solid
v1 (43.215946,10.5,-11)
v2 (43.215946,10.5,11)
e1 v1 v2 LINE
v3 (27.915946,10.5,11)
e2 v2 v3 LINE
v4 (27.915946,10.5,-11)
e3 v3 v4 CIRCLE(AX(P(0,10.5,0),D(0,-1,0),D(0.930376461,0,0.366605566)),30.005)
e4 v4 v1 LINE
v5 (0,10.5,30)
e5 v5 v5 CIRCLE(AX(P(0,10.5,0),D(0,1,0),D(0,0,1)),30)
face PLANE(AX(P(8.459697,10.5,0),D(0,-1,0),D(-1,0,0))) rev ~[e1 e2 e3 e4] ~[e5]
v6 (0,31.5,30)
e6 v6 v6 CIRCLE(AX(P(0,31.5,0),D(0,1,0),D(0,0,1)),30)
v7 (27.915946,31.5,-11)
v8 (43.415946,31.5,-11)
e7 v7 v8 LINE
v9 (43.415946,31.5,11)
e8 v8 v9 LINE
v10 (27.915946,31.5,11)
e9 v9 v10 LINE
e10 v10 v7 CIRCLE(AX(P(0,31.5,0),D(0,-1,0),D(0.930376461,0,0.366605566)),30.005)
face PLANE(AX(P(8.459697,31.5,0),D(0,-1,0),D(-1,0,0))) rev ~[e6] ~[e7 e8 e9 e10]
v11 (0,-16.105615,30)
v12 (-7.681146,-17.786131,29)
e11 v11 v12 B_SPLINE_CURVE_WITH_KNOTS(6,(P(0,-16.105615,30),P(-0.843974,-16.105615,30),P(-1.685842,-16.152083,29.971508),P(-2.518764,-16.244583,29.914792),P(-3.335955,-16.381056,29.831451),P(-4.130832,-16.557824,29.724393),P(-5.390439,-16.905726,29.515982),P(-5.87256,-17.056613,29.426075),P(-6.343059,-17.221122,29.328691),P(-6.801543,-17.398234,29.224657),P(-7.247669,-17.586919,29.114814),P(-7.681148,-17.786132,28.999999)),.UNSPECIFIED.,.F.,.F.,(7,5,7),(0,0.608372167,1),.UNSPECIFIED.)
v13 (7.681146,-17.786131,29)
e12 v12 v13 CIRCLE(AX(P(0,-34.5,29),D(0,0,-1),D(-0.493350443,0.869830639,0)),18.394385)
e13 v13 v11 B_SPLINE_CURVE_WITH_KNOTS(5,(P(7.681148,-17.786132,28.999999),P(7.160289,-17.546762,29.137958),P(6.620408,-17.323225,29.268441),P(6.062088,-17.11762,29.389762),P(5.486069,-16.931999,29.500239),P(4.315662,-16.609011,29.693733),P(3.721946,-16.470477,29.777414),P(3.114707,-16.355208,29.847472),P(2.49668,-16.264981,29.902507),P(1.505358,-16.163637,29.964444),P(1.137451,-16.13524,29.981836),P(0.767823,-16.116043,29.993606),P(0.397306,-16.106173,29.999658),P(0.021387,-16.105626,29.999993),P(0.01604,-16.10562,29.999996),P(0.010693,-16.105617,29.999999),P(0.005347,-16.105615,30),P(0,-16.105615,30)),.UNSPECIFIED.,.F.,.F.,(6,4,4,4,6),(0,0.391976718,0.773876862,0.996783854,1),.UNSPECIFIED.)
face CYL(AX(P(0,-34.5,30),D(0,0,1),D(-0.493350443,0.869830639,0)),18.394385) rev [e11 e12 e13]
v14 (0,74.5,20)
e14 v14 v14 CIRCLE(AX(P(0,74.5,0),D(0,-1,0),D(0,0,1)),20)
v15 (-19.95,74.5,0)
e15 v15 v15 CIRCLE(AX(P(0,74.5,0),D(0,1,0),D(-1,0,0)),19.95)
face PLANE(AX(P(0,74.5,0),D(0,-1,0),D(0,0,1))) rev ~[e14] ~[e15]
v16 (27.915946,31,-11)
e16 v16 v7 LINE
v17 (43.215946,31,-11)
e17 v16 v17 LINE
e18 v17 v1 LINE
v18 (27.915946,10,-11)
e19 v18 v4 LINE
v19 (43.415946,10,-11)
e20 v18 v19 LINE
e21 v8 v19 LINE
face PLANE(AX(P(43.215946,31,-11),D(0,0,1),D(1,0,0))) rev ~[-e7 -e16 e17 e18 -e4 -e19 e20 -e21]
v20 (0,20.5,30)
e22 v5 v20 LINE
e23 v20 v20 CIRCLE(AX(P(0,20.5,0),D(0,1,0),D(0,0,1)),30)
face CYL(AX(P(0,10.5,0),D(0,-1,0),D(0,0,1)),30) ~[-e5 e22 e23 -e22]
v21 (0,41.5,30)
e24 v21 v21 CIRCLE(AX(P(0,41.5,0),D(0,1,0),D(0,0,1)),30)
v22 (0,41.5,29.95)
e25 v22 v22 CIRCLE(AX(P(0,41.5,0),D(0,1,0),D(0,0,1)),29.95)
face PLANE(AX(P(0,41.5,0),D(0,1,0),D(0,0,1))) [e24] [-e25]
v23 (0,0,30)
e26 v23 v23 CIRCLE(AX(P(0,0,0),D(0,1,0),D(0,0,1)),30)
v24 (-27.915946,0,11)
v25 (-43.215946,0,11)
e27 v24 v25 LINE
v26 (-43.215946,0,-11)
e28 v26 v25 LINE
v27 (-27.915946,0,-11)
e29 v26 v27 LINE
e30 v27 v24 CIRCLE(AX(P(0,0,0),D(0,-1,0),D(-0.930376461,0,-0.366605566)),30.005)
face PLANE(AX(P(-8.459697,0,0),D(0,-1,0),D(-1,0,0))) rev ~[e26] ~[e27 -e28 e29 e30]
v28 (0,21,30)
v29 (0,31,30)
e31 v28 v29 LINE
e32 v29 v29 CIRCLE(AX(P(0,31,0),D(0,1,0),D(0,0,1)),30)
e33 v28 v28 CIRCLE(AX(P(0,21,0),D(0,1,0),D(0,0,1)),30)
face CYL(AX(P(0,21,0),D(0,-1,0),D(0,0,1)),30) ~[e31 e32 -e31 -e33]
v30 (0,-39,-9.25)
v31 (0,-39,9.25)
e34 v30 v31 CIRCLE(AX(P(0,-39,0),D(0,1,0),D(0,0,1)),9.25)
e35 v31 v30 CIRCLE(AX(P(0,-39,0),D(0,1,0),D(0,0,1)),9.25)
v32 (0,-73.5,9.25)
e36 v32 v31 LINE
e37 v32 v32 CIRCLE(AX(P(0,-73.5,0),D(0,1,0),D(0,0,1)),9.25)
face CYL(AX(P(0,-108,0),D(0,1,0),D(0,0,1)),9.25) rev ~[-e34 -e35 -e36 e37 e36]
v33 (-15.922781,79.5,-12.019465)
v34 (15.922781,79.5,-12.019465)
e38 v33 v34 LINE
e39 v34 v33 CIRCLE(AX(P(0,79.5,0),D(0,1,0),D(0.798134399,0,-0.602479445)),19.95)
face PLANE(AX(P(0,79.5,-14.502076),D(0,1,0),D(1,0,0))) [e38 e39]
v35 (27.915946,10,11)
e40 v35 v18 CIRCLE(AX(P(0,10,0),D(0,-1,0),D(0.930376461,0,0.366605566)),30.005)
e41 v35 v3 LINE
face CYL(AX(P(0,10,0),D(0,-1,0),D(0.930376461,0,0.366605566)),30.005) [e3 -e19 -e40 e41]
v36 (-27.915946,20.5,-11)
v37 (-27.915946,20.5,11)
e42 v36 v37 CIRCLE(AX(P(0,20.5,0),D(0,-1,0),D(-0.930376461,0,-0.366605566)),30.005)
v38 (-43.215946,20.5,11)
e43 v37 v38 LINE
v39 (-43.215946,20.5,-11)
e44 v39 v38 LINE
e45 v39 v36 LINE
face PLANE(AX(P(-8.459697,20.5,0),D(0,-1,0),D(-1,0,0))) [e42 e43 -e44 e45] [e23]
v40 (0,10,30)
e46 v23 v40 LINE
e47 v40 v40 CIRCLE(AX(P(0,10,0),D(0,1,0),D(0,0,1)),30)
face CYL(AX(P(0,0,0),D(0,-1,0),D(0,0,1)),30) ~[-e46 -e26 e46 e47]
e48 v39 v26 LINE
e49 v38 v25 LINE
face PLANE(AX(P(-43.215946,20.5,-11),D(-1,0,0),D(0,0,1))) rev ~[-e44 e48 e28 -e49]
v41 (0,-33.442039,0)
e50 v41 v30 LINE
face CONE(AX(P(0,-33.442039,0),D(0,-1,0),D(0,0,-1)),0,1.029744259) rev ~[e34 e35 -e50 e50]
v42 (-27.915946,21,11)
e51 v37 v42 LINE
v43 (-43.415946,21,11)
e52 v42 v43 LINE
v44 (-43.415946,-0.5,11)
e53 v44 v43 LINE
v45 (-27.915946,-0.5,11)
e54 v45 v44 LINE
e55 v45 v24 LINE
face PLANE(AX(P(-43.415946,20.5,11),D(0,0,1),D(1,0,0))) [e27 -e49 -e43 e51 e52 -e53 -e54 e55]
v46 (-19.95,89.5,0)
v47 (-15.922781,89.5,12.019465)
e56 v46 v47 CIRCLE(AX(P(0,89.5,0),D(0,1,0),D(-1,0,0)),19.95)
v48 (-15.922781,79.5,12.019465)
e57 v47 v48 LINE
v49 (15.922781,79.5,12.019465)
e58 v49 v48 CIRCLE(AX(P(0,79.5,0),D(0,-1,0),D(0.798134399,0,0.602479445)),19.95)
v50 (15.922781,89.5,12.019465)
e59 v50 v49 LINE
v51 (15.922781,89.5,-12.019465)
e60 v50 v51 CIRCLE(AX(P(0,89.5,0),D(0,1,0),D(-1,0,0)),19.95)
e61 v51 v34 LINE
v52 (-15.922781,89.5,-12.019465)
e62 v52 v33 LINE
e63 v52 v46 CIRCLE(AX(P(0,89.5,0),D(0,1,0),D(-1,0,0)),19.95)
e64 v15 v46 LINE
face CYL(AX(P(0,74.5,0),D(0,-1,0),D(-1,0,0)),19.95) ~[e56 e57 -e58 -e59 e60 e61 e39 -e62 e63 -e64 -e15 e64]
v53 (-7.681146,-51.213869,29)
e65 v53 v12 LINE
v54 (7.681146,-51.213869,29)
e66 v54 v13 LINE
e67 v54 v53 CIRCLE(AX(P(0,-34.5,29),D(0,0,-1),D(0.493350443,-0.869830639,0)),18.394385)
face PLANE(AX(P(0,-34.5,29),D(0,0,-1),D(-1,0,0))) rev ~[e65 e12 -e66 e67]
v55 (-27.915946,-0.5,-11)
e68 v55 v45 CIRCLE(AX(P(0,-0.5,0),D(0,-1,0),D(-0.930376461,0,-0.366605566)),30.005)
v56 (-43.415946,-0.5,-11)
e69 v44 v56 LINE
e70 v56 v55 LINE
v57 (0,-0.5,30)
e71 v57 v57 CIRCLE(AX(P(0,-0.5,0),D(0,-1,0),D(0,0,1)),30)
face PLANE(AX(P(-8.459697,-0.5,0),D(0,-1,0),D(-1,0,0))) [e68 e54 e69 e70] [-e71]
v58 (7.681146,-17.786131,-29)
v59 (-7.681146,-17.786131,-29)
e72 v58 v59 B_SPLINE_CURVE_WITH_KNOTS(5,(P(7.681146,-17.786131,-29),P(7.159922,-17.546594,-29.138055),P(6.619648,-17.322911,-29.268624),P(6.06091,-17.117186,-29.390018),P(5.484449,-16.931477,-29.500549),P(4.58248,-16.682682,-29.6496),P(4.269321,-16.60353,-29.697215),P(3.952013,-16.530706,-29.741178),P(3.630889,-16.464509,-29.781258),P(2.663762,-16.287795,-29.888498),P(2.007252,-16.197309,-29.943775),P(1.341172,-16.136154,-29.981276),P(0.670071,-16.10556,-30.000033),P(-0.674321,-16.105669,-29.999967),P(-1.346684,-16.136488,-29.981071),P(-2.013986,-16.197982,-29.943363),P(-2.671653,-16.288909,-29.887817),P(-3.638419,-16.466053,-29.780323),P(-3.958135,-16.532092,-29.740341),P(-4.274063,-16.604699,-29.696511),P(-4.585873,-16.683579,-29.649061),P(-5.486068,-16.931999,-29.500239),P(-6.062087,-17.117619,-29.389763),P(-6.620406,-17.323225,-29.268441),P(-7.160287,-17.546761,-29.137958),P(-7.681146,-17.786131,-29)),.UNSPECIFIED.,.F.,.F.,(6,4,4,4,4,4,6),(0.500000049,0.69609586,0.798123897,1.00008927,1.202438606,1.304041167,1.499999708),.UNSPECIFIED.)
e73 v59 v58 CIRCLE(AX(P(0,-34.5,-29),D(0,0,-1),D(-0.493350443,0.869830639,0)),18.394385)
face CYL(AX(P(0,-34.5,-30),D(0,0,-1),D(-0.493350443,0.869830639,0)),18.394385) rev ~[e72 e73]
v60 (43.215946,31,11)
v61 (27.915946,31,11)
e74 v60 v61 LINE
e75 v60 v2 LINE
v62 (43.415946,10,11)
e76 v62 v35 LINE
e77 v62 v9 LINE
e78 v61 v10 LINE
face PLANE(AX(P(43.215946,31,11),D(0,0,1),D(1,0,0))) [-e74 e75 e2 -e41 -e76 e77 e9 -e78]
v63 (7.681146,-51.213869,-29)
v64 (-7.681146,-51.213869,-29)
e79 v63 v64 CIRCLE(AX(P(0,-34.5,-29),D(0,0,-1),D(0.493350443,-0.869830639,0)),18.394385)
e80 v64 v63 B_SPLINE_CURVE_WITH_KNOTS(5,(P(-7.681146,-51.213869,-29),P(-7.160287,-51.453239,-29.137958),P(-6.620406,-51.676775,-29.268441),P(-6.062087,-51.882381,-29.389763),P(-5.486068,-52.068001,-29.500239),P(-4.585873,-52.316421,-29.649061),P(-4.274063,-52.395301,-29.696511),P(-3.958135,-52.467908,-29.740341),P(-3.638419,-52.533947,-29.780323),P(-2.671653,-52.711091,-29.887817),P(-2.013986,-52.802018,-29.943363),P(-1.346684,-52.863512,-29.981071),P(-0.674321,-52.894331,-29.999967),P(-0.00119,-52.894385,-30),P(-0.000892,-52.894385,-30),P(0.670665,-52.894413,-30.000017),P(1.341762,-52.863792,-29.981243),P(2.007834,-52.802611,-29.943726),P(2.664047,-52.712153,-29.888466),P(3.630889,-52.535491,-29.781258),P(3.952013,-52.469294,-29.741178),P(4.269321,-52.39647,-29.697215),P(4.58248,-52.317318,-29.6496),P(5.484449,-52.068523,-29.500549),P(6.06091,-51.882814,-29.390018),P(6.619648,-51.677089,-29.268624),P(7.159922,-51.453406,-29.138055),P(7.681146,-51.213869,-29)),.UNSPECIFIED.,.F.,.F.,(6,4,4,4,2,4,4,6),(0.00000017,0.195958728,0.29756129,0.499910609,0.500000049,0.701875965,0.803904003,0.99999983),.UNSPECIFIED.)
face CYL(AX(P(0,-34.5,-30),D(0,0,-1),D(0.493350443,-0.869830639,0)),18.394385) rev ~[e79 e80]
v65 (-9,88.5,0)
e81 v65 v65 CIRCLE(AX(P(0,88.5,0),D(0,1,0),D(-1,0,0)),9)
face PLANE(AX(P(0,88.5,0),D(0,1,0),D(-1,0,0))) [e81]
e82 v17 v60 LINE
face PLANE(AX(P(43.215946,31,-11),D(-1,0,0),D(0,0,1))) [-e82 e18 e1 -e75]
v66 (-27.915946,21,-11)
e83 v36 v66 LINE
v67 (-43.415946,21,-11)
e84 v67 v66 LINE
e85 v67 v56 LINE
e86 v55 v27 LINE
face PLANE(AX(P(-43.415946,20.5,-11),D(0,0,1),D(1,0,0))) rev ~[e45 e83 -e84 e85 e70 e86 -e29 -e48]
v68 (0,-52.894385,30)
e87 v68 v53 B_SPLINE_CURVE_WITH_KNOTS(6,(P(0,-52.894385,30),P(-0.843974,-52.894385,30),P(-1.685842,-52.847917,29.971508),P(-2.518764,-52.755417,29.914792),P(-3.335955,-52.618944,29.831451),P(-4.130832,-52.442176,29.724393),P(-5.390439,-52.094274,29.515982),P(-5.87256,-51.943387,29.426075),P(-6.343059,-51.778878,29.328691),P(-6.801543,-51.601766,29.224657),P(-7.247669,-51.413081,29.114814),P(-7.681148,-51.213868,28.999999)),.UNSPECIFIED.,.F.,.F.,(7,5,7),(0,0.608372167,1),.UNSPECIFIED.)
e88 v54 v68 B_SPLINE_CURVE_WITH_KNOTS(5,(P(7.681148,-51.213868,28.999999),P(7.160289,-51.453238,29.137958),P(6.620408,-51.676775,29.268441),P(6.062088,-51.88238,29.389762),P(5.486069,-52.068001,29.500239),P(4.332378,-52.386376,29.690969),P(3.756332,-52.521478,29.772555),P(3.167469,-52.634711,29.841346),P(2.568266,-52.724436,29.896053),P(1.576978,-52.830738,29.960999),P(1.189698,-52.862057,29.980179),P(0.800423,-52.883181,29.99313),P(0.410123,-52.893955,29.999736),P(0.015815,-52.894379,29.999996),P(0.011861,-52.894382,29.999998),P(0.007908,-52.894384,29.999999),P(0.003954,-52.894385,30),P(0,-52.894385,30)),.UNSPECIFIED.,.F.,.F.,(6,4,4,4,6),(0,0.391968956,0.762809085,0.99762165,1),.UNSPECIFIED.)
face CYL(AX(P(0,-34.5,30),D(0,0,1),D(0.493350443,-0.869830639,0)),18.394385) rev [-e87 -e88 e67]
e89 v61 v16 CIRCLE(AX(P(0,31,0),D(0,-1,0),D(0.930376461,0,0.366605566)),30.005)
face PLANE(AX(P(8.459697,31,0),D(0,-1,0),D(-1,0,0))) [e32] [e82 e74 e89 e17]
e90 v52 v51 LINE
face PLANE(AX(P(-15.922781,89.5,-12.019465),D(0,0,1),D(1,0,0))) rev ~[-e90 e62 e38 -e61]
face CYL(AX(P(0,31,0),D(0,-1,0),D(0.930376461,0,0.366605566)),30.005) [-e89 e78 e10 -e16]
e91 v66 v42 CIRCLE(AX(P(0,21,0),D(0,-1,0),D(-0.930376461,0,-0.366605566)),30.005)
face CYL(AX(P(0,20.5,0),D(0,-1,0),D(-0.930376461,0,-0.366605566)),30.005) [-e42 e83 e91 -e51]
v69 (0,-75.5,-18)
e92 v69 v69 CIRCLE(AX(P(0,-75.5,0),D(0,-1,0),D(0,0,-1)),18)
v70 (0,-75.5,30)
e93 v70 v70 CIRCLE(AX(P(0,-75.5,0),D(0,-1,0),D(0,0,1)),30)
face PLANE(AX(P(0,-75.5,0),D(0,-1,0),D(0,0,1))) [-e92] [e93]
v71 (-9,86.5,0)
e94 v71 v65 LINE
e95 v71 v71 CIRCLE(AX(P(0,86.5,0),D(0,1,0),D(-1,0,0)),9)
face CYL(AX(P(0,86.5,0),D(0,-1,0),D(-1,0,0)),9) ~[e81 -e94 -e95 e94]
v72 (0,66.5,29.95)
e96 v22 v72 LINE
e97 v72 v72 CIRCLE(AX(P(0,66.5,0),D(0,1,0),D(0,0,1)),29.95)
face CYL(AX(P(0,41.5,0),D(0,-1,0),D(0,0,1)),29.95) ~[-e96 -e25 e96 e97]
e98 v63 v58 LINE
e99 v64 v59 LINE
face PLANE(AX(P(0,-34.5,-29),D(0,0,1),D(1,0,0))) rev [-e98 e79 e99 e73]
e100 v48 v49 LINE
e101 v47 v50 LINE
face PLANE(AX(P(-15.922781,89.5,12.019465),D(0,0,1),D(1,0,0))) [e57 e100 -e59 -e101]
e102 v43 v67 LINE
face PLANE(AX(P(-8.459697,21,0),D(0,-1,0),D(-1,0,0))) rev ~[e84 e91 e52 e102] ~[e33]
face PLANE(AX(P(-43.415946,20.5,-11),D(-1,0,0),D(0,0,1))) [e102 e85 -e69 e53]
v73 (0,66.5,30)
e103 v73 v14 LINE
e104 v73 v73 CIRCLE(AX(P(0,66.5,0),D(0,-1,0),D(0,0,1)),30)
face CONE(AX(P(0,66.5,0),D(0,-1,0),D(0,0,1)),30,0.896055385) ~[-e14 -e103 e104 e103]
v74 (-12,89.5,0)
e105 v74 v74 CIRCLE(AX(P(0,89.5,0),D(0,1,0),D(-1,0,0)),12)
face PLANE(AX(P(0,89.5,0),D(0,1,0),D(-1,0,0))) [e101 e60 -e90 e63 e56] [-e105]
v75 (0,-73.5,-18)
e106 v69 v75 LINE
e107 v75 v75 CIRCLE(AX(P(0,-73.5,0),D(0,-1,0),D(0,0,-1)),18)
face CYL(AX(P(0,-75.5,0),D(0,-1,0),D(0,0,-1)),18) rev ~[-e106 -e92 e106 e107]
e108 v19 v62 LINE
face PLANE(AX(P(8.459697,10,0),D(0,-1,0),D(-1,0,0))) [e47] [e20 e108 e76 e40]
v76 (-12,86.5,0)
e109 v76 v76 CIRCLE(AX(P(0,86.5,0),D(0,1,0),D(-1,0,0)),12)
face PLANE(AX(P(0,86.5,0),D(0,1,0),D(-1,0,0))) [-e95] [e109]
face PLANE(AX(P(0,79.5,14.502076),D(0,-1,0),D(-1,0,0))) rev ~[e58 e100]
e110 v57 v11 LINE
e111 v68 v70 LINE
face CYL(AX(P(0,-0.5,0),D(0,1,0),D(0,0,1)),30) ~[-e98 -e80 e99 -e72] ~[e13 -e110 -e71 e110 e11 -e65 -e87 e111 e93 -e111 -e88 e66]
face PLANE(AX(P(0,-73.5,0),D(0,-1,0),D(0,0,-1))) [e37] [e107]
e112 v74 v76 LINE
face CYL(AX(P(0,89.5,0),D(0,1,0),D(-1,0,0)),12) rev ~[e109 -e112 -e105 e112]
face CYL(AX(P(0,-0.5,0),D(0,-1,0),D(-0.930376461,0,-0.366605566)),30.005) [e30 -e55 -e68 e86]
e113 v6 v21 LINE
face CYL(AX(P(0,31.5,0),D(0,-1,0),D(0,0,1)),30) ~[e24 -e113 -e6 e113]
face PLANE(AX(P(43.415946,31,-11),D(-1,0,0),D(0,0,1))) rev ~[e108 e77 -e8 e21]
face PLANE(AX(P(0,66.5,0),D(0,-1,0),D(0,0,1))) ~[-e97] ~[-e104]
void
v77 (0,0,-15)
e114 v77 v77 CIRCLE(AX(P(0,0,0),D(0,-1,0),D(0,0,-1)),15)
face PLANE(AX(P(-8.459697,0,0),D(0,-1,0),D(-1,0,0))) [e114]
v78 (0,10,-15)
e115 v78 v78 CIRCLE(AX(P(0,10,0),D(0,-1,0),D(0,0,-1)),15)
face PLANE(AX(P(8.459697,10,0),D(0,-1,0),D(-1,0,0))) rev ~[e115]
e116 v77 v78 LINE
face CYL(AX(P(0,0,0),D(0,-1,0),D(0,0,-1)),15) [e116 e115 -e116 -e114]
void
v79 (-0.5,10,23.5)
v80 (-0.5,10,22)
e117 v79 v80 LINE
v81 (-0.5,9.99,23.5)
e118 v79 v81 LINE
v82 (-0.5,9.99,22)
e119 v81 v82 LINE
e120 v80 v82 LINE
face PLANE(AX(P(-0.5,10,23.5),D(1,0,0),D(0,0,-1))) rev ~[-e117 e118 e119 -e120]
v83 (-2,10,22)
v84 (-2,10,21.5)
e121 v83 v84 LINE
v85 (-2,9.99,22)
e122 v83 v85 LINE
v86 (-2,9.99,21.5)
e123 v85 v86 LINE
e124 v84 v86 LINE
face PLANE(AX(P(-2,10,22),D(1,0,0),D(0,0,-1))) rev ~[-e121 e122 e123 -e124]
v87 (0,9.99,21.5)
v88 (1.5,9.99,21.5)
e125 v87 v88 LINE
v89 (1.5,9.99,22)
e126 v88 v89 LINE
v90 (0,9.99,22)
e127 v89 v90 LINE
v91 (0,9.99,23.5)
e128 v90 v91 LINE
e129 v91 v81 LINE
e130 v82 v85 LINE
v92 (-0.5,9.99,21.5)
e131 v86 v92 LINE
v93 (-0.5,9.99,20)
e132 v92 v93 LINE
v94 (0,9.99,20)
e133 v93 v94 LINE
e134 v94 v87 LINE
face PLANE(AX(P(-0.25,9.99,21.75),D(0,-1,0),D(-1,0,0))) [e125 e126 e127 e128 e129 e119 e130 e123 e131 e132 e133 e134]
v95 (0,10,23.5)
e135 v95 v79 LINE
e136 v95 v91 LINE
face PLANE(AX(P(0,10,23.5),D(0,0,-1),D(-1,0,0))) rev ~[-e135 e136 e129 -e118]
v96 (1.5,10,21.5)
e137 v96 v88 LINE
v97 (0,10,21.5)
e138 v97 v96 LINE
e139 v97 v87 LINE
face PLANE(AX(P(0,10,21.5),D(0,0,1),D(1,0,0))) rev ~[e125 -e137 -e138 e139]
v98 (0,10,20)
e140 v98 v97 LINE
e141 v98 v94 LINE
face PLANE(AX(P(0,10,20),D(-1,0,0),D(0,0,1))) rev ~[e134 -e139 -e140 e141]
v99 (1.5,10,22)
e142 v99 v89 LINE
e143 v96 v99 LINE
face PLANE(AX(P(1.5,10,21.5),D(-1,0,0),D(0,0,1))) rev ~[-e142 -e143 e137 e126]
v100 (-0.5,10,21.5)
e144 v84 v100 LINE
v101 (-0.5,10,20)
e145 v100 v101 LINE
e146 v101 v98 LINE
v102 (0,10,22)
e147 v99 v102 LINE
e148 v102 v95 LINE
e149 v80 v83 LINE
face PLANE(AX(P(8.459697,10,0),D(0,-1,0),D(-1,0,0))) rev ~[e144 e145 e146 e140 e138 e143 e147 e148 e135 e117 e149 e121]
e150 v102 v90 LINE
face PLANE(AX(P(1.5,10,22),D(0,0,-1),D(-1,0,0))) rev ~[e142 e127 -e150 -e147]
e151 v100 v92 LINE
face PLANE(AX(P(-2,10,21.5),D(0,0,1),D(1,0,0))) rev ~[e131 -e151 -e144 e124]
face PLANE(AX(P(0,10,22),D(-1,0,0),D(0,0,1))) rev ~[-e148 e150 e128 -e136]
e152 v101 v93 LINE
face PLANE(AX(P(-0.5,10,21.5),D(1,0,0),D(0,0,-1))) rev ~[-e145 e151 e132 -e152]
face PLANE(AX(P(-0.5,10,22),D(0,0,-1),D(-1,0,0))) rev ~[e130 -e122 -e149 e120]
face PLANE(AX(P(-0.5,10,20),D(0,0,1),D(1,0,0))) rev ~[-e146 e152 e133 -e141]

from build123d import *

# Parameters (mm, degrees)
SKETCH1_R                  = 30
BOSS_EXTRUDE1_DEPTH        = 10
SKETCH2_R                  = 15
CUT_EXTRUDE1_DEPTH         = 10
CUT_EXTRUDE4_DEPTH         = 0.01
BOSS_EXTRUDE2_DEPTH        = 0.5
SKETCH9_R                  = 30
BOSS_EXTRUDE3_DEPTH        = 10
BOSS_EXTRUDE4_DEPTH        = 0.5
LPATTERN1_COUNT            = 2
LPATTERN1_PITCH            = 21
SKETCH11_R                 = 30
BOSS_EXTRUDE5_DEPTH        = 10
LPATTERN2_COUNT            = 2
LPATTERN2_PITCH            = 21
SKETCH12_R                 = 30
BOSS_EXTRUDE6_DEPTH        = 10
SKETCH13_W                 = 0.2
SKETCH13_H                 = 22
BOSS_EXTRUDE7_DEPTH        = 20.5
SKETCH14_W                 = 0.2
SKETCH14_H                 = 22
BOSS_EXTRUDE8_DEPTH        = 20.5
SKETCH15_R                 = 30
BOSS_EXTRUDE9_DEPTH        = 75
SKETCH16_R                 = 18
CUT_EXTRUDE5_DEPTH         = 2
SKETCH42_R                 = 29.95
BOSS_EXTRUDE10_DEPTH       = 25
SKETCH46_R                 = 19.95
BOSS_EXTRUDE11_DEPTH       = 15
CUT_EXTRUDE8_DEPTH         = 10
SKETCH48_R                 = 12
CUT_EXTRUDE9_DEPTH         = 3
SKETCH49_R                 = 9
BOSS_EXTRUDE12_DEPTH       = 2
CUT_EXTRUDE10_DEPTH        = 1
M20X1_5_TAPPED_HOLE1_D     = 18.5
M20X1_5_TAPPED_HOLE1_DEPTH = 34.5
M20X1_5_TAPPED_HOLE1_TIP   = 5.557960726


with BuildPart() as part:
    # Sketch1 → Boss-Extrude1 (new body)
    with BuildSketch(Plane(origin=(0, 0, 0), x_dir=(1, 0, 0), z_dir=(0, 1, 0))):
        with Locations(Location((0, 0, 0), (0, 0, 270))):  # turned: the seam where the file's is
            Circle(SKETCH1_R)
    extrude(amount=BOSS_EXTRUDE1_DEPTH)

    # Sketch2 → Cut-Extrude1 (cut)
    with BuildSketch(Plane.XZ):
        with Locations(Location((0, 0, 0), (0, 0, 270))):  # turned: the seam where the file's is
            Circle(SKETCH2_R)
    extrude(amount=-CUT_EXTRUDE1_DEPTH, mode=Mode.SUBTRACT)

    # Sketch7 → Cut-Extrude4 (cut)
    with BuildSketch(Plane(origin=(0, 10, 0), x_dir=(1, 0, 0), z_dir=(0, 1, 0))):
        Polygon((0, -23.5), (-0.5, -23.5), (-0.5, -22), (-2, -22), (-2, -21.5), (-0.5, -21.5), (-0.5, -20), (0, -20), (0, -21.5), (1.5, -21.5), (1.5, -22), (0, -22), align=None)
    extrude(amount=-CUT_EXTRUDE4_DEPTH, mode=Mode.SUBTRACT)

    # Sketch8 → Boss-Extrude2 (add)
    with BuildSketch(Plane(origin=(0, 10, 0), x_dir=(1, 0, 0), z_dir=(0, 1, 0))):
        with BuildLine():
            Line((27.915945712, 11), (43.415945712, 11))
            Line((43.415945712, 11), (43.415945712, -11))
            Line((43.415945712, -11), (27.915945712, -11))
            ThreePointArc((27.915945712, -11), (-30.005, 0), (27.915945712, 11))
        make_face()
    boss_extrude2 = extrude(amount=BOSS_EXTRUDE2_DEPTH)

    # Sketch9 → Boss-Extrude3 (add)
    with BuildSketch(Plane(origin=(0, 10.5, 0), x_dir=(1, 0, 0), z_dir=(0, 1, 0))):
        with Locations(Location((0, 0, 0), (0, 0, 270))):  # turned: the seam where the file's is
            Circle(SKETCH9_R)
    extrude(amount=BOSS_EXTRUDE3_DEPTH)

    # Sketch10 → Boss-Extrude4 (add)
    with BuildSketch(Plane(origin=(0, 20.5, 0), x_dir=(1, 0, 0), z_dir=(0, 1, 0))):
        with BuildLine():
            Line((-43.415945712, 11), (-27.915945712, 11))
            ThreePointArc((-27.915945712, 11), (30.005, 0), (-27.915945712, -11))
            Line((-27.915945712, -11), (-43.415945712, -11))
            Line((-43.415945712, -11), (-43.415945712, 11))
        make_face()
    boss_extrude4 = extrude(amount=BOSS_EXTRUDE4_DEPTH)

    # LPattern1: Boss-Extrude4 ×2
    with Locations(*[(0, -i * LPATTERN1_PITCH, 0) for i in range(1, LPATTERN1_COUNT)]):
        add(boss_extrude4)

    # Sketch11 → Boss-Extrude5 (add)
    with BuildSketch(Plane(origin=(0, 21, 0), x_dir=(1, 0, 0), z_dir=(0, 1, 0))):
        with Locations(Location((0, 0, 0), (0, 0, 270))):  # turned: the seam where the file's is
            Circle(SKETCH11_R)
    extrude(amount=BOSS_EXTRUDE5_DEPTH)

    # LPattern2: Boss-Extrude2 ×2
    with Locations(*[(0, i * LPATTERN2_PITCH, 0) for i in range(1, LPATTERN2_COUNT)]):
        add(boss_extrude2)

    # Sketch12 → Boss-Extrude6 (add)
    with BuildSketch(Plane(origin=(0, 31.5, 0), x_dir=(1, 0, 0), z_dir=(0, 1, 0))):
        with Locations(Location((0, 0, 0), (0, 0, 270))):  # turned: the seam where the file's is
            Circle(SKETCH12_R)
    extrude(amount=BOSS_EXTRUDE6_DEPTH)

    # Sketch13 → Boss-Extrude7 (add)
    with BuildSketch(Plane.XZ.offset(-31)):
        with Locations((43.315945712, 0)):
            Rectangle(SKETCH13_W, SKETCH13_H)
    extrude(amount=BOSS_EXTRUDE7_DEPTH)

    # Sketch14 → Boss-Extrude8 (add)
    with BuildSketch(Plane.XZ.offset(-20.5)):
        with Locations((-43.315945712, 0)):
            Rectangle(SKETCH14_W, SKETCH14_H)
    extrude(amount=BOSS_EXTRUDE8_DEPTH)

    # Sketch15 → Boss-Extrude9 (add)
    with BuildSketch(Plane.XZ.offset(0.5)):
        with Locations(Location((0, 0, 0), (0, 0, 90))):  # turned: the seam where the file's is
            Circle(SKETCH15_R)
    extrude(amount=BOSS_EXTRUDE9_DEPTH)

    # Sketch16 → Cut-Extrude5 (cut)
    with BuildSketch(Plane.XZ.offset(75.5)):
        with Locations(Location((0, 0, 0), (0, 0, 270))):  # turned: the seam where the file's is
            Circle(SKETCH16_R)
    extrude(amount=-CUT_EXTRUDE5_DEPTH, mode=Mode.SUBTRACT)

    # Sketch42 → Boss-Extrude10 (add)
    with BuildSketch(Plane(origin=(0, 41.5, 0), x_dir=(1, 0, 0), z_dir=(0, 1, 0))):
        with Locations(Location((0, 0, 0), (0, 0, 270))):  # turned: the seam where the file's is
            Circle(SKETCH42_R)
    extrude(amount=BOSS_EXTRUDE10_DEPTH)

    # Sketch45 → Revolve1 (revolve)
    with BuildSketch(Plane.XY, mode=Mode.PRIVATE) as revolve1_sk:
        Polygon((0, 66.5), (30, 66.5), (20, 74.5), (0, 74.5), align=None)
    revolve(revolve1_sk.sketch.rotate(Axis((0, 74.5, 0), (0, -1, 0)), 90), axis=Axis((0, 74.5, 0), (0, -1, 0)))  # turned: the seam where the file's is

    # Sketch46 → Boss-Extrude11 (add)
    with BuildSketch(Plane(origin=(0, 74.5, 0), x_dir=(1, 0, 0), z_dir=(0, 1, 0))):
        with Locations(Location((0, 0, 0), (0, 0, 180))):  # turned: the seam where the file's is
            Circle(SKETCH46_R)
    extrude(amount=BOSS_EXTRUDE11_DEPTH)

    # Sketch47 → Cut-Extrude8 (cut)
    with BuildSketch(Plane(origin=(0, 89.5, 0), x_dir=(1, 0, 0), z_dir=(0, 1, 0))):
        with BuildLine():
            Line((-15.922781257, 12.019464923), (15.922781257, 12.019464923))
            ThreePointArc((15.922781257, 12.019464923), (0, 19.95), (-15.922781257, 12.019464923))
        make_face()
        with BuildLine():
            Line((-15.922781257, -12.019464923), (15.922781257, -12.019464923))
            ThreePointArc((15.922781257, -12.019464923), (0, -19.95), (-15.922781257, -12.019464923))
        make_face()
    extrude(amount=-CUT_EXTRUDE8_DEPTH, mode=Mode.SUBTRACT)

    # Sketch48 → Cut-Extrude9 (cut)
    with BuildSketch(Plane(origin=(0, 89.5, 0), x_dir=(1, 0, 0), z_dir=(0, 1, 0))):
        with Locations(Location((0, 0, 0), (0, 0, 180))):  # turned: the seam where the file's is
            Circle(SKETCH48_R)
    extrude(amount=-CUT_EXTRUDE9_DEPTH, mode=Mode.SUBTRACT)

    # Sketch49 → Boss-Extrude12 (add)
    with BuildSketch(Plane(origin=(0, 86.5, 0), x_dir=(1, 0, 0), z_dir=(0, 1, 0))):
        with Locations(Location((0, 0, 0), (0, 0, 180))):  # turned: the seam where the file's is
            Circle(SKETCH49_R)
    extrude(amount=BOSS_EXTRUDE12_DEPTH)

    # Sketch50 → Cut-Extrude10 (cut)
    with BuildSketch(Plane.XY.offset(30)):
        with BuildLine():
            Line((-9.074878192, -50.5), (-9.074878192, -18.5))
            ThreePointArc((-9.074878192, -18.5), (0, -16.105614601), (9.074878192, -18.5))
            Line((9.074878192, -18.5), (9.074878192, -50.5))
            ThreePointArc((9.074878192, -50.5), (0, -52.894385399), (-9.074878192, -50.5))
        make_face()
    cut_extrude10 = extrude(amount=-CUT_EXTRUDE10_DEPTH, mode=Mode.SUBTRACT)

    # Mirror1: Cut-Extrude10 across plane
    add(cut_extrude10.mirror(Plane.XY), mode=Mode.SUBTRACT)

    # M20x1.5 Tapped Hole1
    with Locations(Plane(origin=(0, -73.5, 0), x_dir=(0, 0, -1), z_dir=(0, -1, 0))):
        with Locations((0, 0)):
            Hole(M20X1_5_TAPPED_HOLE1_D / 2, depth=M20X1_5_TAPPED_HOLE1_DEPTH)
            with Locations((0, 0, -(M20X1_5_TAPPED_HOLE1_DEPTH + M20X1_5_TAPPED_HOLE1_TIP / 2))):  # 118° drill point
                Cone(0, M20X1_5_TAPPED_HOLE1_D / 2, M20X1_5_TAPPED_HOLE1_TIP, mode=Mode.SUBTRACT)


solid = part.part
